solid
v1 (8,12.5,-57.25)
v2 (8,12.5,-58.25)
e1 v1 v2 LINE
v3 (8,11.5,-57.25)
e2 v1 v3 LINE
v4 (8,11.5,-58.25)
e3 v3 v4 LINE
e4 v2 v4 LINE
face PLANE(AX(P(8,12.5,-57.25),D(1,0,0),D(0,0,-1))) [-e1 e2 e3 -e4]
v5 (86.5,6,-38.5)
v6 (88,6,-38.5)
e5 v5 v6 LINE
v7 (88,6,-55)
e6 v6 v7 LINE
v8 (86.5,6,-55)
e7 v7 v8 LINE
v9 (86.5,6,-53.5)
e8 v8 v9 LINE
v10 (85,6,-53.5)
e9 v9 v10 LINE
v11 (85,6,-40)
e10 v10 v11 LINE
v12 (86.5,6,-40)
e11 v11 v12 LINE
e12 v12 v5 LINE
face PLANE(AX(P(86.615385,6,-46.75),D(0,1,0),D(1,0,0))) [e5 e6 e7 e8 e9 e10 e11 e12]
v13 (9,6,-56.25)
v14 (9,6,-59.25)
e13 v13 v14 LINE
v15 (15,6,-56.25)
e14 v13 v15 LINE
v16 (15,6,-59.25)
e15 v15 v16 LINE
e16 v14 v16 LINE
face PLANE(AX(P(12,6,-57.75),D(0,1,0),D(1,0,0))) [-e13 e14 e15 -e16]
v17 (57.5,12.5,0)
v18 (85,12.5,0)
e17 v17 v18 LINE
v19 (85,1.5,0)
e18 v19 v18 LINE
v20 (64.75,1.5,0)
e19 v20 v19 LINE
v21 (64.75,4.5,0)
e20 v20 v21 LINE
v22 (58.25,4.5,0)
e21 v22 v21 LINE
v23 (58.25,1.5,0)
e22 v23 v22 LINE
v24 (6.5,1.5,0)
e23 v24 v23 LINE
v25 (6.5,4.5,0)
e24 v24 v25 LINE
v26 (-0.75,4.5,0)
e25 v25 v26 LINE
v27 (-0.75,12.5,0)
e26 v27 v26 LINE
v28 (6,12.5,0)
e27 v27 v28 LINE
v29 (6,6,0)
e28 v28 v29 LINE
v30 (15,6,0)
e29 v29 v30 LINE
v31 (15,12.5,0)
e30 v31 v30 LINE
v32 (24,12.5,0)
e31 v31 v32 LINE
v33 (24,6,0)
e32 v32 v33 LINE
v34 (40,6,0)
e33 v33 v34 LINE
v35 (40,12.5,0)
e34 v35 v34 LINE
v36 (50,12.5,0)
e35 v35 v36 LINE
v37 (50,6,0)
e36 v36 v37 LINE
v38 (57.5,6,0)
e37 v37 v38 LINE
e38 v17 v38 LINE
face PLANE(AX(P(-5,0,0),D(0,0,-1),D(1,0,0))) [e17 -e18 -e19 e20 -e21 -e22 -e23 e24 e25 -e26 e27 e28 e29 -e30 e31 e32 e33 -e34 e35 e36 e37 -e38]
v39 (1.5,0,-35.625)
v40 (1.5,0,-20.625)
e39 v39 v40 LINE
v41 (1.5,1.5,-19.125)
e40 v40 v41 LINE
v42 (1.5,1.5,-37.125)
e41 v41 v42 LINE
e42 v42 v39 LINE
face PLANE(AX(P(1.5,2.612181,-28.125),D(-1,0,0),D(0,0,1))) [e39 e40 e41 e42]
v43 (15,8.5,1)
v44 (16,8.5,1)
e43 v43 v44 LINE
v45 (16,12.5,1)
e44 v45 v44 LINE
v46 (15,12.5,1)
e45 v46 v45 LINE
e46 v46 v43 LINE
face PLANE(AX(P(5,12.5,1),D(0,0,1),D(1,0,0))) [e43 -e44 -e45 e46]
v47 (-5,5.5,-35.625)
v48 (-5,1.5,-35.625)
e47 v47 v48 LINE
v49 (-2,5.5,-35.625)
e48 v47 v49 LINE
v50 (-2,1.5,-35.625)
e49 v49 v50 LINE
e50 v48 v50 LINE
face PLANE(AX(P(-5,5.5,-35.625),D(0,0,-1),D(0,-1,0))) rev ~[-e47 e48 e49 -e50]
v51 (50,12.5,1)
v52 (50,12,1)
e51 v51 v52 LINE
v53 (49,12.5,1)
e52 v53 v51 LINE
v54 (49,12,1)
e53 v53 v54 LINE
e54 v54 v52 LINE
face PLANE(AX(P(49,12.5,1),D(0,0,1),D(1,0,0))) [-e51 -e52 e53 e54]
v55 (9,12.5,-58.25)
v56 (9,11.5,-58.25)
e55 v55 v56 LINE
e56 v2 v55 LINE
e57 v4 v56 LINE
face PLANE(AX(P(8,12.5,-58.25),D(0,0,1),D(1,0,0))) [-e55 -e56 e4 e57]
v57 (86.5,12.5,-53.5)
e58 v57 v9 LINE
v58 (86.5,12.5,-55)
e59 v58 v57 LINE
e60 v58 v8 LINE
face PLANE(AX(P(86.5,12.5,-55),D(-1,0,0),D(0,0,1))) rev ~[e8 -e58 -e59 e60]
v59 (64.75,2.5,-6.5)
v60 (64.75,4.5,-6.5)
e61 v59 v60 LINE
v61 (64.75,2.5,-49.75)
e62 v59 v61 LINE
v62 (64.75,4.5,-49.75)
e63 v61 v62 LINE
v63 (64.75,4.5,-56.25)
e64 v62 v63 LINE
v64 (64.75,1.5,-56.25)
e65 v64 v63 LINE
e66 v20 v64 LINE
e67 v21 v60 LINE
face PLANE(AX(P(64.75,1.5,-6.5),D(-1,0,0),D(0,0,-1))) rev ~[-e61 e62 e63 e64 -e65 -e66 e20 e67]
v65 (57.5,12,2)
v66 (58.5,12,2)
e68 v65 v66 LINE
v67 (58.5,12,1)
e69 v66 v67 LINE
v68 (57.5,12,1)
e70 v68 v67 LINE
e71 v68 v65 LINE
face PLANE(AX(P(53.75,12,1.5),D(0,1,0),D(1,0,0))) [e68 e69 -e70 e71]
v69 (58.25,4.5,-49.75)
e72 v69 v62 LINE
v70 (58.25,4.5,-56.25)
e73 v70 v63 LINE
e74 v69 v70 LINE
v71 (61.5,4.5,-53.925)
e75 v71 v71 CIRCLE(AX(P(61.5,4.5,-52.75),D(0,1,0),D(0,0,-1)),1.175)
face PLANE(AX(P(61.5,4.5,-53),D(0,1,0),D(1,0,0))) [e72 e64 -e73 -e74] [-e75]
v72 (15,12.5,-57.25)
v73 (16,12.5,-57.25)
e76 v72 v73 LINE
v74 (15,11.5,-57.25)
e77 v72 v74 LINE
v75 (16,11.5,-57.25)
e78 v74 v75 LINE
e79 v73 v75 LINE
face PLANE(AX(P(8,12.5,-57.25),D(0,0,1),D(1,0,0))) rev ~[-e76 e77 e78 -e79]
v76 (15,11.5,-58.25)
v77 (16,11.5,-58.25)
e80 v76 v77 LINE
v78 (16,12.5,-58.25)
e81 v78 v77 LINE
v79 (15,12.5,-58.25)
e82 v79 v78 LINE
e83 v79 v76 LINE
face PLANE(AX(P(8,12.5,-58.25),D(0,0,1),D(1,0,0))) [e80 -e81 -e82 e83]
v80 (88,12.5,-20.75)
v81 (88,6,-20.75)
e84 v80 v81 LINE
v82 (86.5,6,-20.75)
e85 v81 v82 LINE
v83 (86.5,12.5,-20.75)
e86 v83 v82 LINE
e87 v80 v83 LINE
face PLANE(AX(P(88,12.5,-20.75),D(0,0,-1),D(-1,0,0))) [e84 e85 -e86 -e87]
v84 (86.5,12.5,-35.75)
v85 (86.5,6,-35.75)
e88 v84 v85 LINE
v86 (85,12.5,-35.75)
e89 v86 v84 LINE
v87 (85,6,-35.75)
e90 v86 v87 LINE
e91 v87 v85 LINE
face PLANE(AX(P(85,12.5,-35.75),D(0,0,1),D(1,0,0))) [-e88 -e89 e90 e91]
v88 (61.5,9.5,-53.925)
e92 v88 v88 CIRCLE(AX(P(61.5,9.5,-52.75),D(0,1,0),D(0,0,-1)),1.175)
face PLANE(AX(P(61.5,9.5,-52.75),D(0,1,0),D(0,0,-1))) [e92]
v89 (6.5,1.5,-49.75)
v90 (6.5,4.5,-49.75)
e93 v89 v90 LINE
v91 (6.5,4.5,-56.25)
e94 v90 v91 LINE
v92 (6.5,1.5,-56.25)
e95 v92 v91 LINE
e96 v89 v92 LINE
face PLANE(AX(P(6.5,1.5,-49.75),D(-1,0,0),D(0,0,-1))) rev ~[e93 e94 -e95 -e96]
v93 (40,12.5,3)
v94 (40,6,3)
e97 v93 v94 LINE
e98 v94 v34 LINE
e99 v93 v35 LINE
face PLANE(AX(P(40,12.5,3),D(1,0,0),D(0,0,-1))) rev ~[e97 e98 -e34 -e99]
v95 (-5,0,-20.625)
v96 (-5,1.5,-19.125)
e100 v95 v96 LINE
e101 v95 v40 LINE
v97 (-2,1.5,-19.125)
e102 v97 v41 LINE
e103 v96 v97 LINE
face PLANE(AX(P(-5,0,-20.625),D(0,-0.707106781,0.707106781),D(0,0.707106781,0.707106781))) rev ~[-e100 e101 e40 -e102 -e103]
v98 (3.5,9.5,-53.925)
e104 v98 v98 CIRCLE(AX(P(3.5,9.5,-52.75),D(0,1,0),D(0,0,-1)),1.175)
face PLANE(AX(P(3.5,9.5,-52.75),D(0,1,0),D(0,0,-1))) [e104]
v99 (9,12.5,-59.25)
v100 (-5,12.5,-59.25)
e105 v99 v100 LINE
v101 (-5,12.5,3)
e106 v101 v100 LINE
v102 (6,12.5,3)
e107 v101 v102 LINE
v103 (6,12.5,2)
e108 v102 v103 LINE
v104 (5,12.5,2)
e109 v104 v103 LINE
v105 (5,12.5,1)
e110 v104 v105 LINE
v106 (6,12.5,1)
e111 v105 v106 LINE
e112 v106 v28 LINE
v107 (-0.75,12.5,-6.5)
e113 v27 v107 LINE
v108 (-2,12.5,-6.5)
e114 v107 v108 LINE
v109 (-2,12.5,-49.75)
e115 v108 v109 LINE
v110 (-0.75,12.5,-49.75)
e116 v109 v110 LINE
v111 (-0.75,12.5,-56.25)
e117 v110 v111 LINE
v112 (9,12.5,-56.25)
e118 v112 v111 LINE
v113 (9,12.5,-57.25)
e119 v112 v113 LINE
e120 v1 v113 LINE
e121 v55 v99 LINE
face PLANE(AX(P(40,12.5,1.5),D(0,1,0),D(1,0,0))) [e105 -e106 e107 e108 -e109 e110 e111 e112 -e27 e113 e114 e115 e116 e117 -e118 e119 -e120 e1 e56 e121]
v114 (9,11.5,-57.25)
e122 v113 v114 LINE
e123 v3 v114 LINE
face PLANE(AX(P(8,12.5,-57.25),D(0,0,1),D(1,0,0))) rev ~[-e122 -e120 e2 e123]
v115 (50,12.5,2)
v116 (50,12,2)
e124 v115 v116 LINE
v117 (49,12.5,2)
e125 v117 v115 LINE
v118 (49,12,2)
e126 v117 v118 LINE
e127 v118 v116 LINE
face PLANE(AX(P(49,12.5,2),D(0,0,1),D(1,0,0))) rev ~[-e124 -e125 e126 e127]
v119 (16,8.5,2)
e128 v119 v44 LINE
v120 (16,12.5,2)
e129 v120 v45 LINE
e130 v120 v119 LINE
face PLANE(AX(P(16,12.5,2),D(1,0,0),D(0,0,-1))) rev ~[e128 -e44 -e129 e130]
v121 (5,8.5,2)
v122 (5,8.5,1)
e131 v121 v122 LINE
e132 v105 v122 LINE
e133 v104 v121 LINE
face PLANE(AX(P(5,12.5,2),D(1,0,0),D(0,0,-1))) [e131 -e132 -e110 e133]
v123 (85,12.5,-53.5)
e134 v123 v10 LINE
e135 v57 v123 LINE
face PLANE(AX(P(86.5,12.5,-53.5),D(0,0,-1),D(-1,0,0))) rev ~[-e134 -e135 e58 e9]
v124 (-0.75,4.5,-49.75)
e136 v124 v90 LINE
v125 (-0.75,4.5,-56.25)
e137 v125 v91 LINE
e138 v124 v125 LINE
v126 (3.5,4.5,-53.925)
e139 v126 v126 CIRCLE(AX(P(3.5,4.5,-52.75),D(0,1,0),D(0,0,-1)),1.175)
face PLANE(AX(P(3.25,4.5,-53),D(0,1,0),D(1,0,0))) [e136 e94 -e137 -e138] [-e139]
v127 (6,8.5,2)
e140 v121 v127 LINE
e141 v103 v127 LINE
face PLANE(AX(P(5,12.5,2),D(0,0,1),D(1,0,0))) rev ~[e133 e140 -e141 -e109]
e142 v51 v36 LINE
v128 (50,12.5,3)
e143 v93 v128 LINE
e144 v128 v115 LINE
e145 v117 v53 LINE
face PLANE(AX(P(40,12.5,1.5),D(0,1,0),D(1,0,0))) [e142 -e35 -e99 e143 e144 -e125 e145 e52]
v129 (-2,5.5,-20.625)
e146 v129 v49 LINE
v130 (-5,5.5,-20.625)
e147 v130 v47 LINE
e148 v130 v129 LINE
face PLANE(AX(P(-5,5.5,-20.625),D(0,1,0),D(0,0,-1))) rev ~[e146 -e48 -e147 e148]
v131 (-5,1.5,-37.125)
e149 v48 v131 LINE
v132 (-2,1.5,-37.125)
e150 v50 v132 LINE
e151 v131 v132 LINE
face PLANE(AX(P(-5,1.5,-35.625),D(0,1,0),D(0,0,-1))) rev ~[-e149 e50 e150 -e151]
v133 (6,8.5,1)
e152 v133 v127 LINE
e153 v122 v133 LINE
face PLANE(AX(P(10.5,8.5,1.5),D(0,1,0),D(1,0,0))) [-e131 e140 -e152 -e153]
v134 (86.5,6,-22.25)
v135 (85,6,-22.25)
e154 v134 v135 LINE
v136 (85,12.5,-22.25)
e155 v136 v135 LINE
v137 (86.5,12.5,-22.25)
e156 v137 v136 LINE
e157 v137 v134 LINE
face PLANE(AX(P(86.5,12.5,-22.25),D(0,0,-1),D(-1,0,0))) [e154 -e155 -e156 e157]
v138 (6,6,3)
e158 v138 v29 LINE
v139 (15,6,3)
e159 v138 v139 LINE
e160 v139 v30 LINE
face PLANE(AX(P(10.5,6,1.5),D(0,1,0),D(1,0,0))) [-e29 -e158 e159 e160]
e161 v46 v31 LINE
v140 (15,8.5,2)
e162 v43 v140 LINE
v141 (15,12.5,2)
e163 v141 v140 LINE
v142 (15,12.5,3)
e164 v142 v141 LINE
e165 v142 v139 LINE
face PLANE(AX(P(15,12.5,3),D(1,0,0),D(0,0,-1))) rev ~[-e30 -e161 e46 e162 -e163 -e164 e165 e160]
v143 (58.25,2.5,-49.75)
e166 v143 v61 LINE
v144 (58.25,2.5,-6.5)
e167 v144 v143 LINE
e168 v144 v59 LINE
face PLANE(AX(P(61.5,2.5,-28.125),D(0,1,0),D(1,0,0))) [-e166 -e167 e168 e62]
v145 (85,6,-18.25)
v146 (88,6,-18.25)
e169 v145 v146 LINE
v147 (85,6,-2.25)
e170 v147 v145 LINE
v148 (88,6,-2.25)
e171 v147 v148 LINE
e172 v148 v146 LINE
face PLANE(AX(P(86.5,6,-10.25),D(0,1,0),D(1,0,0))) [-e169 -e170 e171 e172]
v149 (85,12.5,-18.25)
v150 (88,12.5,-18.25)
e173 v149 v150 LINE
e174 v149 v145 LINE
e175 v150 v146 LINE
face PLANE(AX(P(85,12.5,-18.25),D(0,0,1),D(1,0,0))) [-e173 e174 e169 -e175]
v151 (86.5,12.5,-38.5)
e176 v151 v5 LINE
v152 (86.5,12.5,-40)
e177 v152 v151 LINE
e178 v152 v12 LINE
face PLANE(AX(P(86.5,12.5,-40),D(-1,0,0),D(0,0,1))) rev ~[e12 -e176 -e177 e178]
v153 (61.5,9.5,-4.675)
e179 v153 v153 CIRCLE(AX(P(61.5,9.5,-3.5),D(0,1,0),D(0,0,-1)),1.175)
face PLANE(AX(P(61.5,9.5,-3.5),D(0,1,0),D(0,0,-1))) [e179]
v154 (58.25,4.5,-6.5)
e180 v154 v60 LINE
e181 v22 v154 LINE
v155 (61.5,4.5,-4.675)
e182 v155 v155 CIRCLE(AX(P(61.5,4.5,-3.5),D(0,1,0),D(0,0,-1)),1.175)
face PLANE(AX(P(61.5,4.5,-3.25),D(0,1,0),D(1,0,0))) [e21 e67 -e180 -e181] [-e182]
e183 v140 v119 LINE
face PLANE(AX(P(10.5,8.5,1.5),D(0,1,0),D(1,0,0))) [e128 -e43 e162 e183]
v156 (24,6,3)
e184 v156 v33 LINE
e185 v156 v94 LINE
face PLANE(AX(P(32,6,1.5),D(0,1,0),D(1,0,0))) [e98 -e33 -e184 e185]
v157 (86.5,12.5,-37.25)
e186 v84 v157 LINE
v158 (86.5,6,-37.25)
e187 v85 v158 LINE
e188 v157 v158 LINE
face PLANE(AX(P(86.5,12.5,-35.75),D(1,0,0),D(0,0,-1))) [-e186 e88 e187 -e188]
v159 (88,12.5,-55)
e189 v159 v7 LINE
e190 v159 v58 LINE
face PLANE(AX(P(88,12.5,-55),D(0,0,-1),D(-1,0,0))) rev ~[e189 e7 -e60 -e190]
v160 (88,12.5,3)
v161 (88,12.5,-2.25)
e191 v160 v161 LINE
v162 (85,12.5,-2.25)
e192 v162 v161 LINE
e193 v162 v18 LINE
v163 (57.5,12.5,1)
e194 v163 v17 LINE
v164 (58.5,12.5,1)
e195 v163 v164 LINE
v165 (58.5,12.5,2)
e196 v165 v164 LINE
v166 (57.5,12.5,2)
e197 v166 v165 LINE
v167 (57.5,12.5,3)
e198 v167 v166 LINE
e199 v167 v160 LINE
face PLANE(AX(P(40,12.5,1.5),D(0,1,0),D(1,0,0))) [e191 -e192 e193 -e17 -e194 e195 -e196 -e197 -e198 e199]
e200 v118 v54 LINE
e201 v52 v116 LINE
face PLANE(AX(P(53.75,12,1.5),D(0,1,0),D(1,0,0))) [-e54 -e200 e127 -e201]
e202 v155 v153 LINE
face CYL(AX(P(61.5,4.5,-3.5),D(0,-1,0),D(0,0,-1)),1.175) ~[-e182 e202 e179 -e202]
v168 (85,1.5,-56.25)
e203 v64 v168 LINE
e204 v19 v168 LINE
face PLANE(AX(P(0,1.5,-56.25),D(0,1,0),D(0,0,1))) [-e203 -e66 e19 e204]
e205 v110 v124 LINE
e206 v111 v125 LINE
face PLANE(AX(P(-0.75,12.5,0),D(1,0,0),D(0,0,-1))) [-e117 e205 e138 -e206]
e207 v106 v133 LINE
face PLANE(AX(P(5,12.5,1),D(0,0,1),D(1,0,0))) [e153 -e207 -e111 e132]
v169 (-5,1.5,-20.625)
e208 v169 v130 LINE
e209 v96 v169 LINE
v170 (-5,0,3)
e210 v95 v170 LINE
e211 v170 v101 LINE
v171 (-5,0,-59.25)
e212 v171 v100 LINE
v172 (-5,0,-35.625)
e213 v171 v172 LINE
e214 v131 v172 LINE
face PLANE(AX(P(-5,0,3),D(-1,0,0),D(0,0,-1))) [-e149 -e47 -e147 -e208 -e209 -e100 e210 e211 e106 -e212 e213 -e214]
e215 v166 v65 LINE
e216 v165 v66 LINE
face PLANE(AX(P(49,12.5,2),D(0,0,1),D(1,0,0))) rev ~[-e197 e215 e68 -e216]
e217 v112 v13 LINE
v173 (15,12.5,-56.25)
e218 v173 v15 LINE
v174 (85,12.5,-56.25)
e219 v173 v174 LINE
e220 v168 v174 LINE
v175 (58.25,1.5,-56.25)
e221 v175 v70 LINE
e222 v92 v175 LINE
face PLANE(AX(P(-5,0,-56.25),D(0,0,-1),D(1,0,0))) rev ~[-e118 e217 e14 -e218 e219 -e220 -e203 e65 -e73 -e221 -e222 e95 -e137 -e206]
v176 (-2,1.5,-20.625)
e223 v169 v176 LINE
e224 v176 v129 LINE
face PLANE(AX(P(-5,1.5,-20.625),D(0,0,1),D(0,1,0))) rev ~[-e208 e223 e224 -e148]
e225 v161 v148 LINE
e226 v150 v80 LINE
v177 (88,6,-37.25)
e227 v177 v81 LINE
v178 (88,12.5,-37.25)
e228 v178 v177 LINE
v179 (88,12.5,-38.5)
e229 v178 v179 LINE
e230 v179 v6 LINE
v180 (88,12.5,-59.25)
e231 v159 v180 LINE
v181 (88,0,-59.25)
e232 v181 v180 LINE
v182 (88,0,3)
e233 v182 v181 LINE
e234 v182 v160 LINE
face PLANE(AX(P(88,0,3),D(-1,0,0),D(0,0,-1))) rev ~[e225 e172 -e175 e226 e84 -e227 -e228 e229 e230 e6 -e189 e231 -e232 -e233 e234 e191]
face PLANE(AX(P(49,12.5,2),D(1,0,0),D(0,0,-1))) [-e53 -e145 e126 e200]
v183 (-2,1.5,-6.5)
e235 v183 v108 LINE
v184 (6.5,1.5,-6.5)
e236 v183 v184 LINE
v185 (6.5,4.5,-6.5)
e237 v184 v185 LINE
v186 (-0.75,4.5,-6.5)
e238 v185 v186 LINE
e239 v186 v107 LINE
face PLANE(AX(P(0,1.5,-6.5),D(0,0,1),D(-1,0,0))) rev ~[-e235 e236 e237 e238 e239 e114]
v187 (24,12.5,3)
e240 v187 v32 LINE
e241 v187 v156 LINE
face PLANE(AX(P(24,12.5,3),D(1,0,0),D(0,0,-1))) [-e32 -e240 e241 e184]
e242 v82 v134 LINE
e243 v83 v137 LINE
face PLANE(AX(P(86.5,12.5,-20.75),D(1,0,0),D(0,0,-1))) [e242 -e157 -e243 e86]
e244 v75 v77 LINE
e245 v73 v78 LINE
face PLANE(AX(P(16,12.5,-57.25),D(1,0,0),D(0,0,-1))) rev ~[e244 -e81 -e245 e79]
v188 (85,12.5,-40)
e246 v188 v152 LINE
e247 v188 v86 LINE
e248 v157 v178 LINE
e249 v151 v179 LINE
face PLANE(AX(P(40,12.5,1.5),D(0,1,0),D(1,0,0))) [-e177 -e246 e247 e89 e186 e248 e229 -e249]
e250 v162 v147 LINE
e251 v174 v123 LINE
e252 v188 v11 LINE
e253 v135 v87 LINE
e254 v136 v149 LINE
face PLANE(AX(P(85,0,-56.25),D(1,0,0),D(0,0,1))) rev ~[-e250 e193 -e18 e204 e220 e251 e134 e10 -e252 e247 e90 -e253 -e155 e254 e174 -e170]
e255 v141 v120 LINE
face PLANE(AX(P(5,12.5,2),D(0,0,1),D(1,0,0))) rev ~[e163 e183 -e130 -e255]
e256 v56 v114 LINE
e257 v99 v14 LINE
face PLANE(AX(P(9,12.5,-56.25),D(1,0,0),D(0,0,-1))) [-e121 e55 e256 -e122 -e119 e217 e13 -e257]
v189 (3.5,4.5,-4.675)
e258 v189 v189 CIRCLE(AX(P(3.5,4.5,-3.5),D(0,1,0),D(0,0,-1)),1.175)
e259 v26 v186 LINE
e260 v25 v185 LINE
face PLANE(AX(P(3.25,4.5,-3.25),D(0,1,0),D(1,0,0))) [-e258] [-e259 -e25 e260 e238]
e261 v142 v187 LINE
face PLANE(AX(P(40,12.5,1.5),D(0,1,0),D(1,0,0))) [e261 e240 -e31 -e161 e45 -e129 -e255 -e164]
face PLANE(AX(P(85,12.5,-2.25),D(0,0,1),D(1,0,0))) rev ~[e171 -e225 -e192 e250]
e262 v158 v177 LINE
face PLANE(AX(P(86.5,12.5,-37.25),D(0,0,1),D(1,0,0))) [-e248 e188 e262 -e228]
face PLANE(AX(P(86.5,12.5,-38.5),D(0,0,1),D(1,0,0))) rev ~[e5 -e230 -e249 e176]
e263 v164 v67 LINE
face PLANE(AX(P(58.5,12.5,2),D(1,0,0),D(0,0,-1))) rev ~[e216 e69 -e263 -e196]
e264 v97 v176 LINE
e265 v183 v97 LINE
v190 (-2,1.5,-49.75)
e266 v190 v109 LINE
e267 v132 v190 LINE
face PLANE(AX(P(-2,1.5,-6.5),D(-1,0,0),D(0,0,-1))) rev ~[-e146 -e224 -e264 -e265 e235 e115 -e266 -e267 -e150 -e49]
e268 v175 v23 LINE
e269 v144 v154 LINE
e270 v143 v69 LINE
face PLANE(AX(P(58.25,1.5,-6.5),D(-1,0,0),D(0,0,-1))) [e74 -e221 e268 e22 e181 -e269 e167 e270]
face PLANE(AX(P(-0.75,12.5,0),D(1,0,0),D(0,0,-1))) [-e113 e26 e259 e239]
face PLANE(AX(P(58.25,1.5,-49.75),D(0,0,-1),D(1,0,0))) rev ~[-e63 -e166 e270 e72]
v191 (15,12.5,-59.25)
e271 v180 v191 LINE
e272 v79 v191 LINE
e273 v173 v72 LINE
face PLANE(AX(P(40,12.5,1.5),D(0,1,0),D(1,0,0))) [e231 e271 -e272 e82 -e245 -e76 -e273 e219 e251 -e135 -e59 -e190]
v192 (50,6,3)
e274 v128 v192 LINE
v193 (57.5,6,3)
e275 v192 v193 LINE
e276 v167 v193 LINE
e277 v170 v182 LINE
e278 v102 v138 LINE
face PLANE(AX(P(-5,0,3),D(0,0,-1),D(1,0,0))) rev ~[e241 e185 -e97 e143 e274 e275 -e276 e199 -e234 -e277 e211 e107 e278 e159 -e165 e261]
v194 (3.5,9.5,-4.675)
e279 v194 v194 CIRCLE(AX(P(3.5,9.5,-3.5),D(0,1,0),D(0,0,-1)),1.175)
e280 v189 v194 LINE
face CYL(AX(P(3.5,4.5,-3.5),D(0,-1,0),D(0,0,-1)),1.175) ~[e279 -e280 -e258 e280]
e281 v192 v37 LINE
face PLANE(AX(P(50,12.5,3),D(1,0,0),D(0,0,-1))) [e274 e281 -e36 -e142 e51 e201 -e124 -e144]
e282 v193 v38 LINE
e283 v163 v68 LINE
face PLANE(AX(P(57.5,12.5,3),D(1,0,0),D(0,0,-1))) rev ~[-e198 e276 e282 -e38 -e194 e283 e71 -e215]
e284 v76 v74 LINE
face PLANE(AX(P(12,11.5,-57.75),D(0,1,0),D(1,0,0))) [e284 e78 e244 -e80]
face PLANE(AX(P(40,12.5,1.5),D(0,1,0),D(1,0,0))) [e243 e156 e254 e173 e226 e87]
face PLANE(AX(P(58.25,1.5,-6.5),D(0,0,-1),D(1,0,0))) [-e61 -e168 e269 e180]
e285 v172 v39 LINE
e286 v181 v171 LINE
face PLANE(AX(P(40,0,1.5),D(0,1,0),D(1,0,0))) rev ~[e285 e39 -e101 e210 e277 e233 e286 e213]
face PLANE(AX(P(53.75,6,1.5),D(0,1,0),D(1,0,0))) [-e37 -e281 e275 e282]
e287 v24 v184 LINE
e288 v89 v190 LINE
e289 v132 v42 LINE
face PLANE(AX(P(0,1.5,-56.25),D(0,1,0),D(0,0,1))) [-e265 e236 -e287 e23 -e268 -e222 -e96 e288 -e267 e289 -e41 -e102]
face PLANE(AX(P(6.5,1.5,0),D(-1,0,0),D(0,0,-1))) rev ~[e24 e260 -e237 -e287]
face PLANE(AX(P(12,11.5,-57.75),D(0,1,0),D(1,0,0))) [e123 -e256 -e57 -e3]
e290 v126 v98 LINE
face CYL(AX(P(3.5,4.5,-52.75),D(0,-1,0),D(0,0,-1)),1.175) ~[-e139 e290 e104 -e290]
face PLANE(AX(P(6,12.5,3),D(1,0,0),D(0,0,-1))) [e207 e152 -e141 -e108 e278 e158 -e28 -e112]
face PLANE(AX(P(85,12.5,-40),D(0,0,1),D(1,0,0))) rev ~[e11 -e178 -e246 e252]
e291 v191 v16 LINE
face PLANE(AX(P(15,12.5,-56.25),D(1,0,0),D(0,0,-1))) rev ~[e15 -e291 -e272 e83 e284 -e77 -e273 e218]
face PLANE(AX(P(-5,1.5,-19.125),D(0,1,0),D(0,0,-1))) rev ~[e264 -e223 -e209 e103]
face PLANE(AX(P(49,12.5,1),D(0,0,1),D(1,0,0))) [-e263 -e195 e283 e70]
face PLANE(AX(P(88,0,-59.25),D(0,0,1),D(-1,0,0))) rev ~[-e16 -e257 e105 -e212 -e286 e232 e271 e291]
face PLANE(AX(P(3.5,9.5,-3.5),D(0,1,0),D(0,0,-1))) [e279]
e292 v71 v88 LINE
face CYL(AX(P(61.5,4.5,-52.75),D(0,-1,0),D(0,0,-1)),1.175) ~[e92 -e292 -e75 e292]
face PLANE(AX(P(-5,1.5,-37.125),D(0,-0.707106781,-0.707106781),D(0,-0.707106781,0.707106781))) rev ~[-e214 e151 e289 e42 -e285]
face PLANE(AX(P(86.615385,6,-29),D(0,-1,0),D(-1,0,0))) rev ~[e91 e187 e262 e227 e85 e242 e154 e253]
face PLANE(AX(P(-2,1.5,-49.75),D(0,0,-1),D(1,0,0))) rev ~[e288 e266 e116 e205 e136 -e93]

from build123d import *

# Parameters (mm, degrees)
SKETCH1_W           = 85
SKETCH1_H           = 56.25
BOSS_EXTRUDE1_DEPTH = 1.5
SKETCH2_W           = 6.5
SKETCH2_H           = 6.5
BOSS_EXTRUDE2_DEPTH = 3
SKETCH3_R           = 1.175
BOSS_EXTRUDE3_DEPTH = 5
SKETCH4_W           = 56.25
SKETCH4_H           = 1.5
BOSS_EXTRUDE4_DEPTH = 5
BOSS_EXTRUDE5_DEPTH = 11
SKETCH6_W           = 90
SKETCH6_H           = 3
BOSS_EXTRUDE6_DEPTH = 12.5
SKETCH7_W           = 6
SKETCH7_H           = 3
SKETCH7_W_2         = 9
SKETCH7_W_3         = 16
SKETCH7_W_4         = 7.5
SKETCH7_W_5         = 3
SKETCH7_H_2         = 16
CUT_EXTRUDE1_DEPTH  = 6.5
CUT_EXTRUDE2_DEPTH  = 6.5
SKETCH9_W           = 6.5
SKETCH9_H           = 43.25
BOSS_EXTRUDE7_DEPTH = 1
SKETCH10_W          = 9.5
SKETCH10_H          = 1
CUT_EXTRUDE3_DEPTH  = 0.5
SKETCH11_W          = 11
SKETCH11_H          = 1
CUT_EXTRUDE4_DEPTH  = 4
SKETCH12_W          = 8
SKETCH12_H          = 1
CUT_EXTRUDE5_DEPTH  = 1
SKETCH13_W          = 0.75
SKETCH13_H          = 56.25
CUT_EXTRUDE6_DEPTH  = 8


with BuildPart() as part:
    # Sketch1 → Boss-Extrude1 (new body)
    with BuildSketch(Plane(origin=(0, 0, 0), x_dir=(1, 0, 0), z_dir=(0, 1, 0))):
        with Locations((42.5, 28.125)):
            Rectangle(SKETCH1_W, SKETCH1_H)
    extrude(amount=BOSS_EXTRUDE1_DEPTH)

    # Sketch2 → Boss-Extrude2 (add)
    with BuildSketch(Plane(origin=(0, 1.5, 0), x_dir=(1, 0, 0), z_dir=(0, 1, 0))):
        with Locations((3.25, 3.25)):
            Rectangle(SKETCH2_W, SKETCH2_H)
        with Locations((61.5, 3.25)):
            Rectangle(SKETCH2_W, SKETCH2_H)
        with Locations((61.5, 53)):
            Rectangle(SKETCH2_W, SKETCH2_H)
        with Locations((3.25, 53)):
            Rectangle(SKETCH2_W, SKETCH2_H)
    extrude(amount=BOSS_EXTRUDE2_DEPTH)

    # Sketch3 → Boss-Extrude3 (add)
    with BuildSketch(Plane(origin=(0, 4.5, 0), x_dir=(1, 0, 0), z_dir=(0, 1, 0))):
        with Locations(Location((3.5, 3.5, 0), (0, 0, 90))):
            Circle(SKETCH3_R)
        with Locations(Location((61.5, 3.5, 0), (0, 0, 90))):
            Circle(SKETCH3_R)
        with Locations(Location((61.5, 52.75, 0), (0, 0, 90))):
            Circle(SKETCH3_R)
        with Locations(Location((3.5, 52.75, 0), (0, 0, 90))):
            Circle(SKETCH3_R)
    extrude(amount=BOSS_EXTRUDE3_DEPTH)

    # Sketch4 → Boss-Extrude4 (add)
    with BuildSketch(Plane.ZY):
        with Locations((-28.125, 0.75)):
            Rectangle(SKETCH4_W, SKETCH4_H)
    extrude(amount=BOSS_EXTRUDE4_DEPTH)

    # Sketch5 → Boss-Extrude5 (add)
    with BuildSketch(Plane(origin=(0, 1.5, 0), x_dir=(1, 0, 0), z_dir=(0, 1, 0))):
        Polygon((-5, 0), (-2.5, 0), (0, 0), (0, 6.5), (-2, 6.5), (-2, 49.75), (0, 49.75), (0, 56.25), (-2.5, 56.25), (-5, 56.25), align=None)
    extrude(amount=BOSS_EXTRUDE5_DEPTH)

    # Sketch6 → Boss-Extrude6 (add)
    with BuildSketch(Plane(origin=(0, 0, 0), x_dir=(1, 0, 0), z_dir=(0, 1, 0))):
        with Locations((40, -1.5)):
            Rectangle(SKETCH6_W, SKETCH6_H)
        Polygon((85, 56.25), (85, 0), (85, -3), (88, -3), (88, 56.25), align=None)
        Polygon((-5, 56.25), (85, 56.25), (88, 56.25), (88, 59.25), (-5, 59.25), align=None)
    extrude(amount=BOSS_EXTRUDE6_DEPTH)

    # Sketch7 → Cut-Extrude1 (cut)
    with BuildSketch(Plane(origin=(0, 12.5, 0), x_dir=(1, 0, 0), z_dir=(0, 1, 0))):
        with Locations((12, 57.75)):
            Rectangle(SKETCH7_W, SKETCH7_H)
        Polygon((86.5, 40), (86.5, 38.5), (88, 38.5), (88, 55), (86.5, 55), (86.5, 53.5), (85, 53.5), (85, 40), align=None)
        with Locations((10.5, -1.5)):
            Rectangle(SKETCH7_W_2, SKETCH7_H)
        with Locations((32, -1.5)):
            Rectangle(SKETCH7_W_3, SKETCH7_H)
        with Locations((53.75, -1.5)):
            Rectangle(SKETCH7_W_4, SKETCH7_H)
        with Locations((86.5, 10.25)):
            Rectangle(SKETCH7_W_5, SKETCH7_H_2)
        Polygon((86.5, 35.75), (86.5, 37.25), (88, 37.25), (88, 20.75), (86.5, 20.75), (86.5, 22.25), (85, 22.25), (85, 35.75), align=None)
    extrude(amount=-CUT_EXTRUDE1_DEPTH, mode=Mode.SUBTRACT)

    # Sketch8 → Cut-Extrude2 (cut)
    with BuildSketch(Plane.ZY.offset(5)):
        Polygon((-35.625, 0), (-20.625, 0), (-19.125, 1.5), (-20.625, 1.5), (-20.625, 5.5), (-35.625, 5.5), (-35.625, 1.5), (-37.125, 1.5), align=None)
    extrude(amount=-CUT_EXTRUDE2_DEPTH, mode=Mode.SUBTRACT)

    # Sketch9 → Boss-Extrude7 (add)
    with BuildSketch(Plane(origin=(0, 1.5, 0), x_dir=(1, 0, 0), z_dir=(0, 1, 0))):
        with Locations((61.5, 28.125)):
            Rectangle(SKETCH9_W, SKETCH9_H)
    extrude(amount=BOSS_EXTRUDE7_DEPTH)

    # Sketch10 → Cut-Extrude3 (cut)
    with BuildSketch(Plane(origin=(0, 12.5, 0), x_dir=(1, 0, 0), z_dir=(0, 1, 0))):
        with Locations((53.75, -1.5)):
            Rectangle(SKETCH10_W, SKETCH10_H)
    extrude(amount=-CUT_EXTRUDE3_DEPTH, mode=Mode.SUBTRACT)

    # Sketch11 → Cut-Extrude4 (cut)
    with BuildSketch(Plane(origin=(0, 12.5, 0), x_dir=(1, 0, 0), z_dir=(0, 1, 0))):
        with Locations((10.5, -1.5)):
            Rectangle(SKETCH11_W, SKETCH11_H)
    extrude(amount=-CUT_EXTRUDE4_DEPTH, mode=Mode.SUBTRACT)

    # Sketch12 → Cut-Extrude5 (cut)
    with BuildSketch(Plane(origin=(0, 12.5, 0), x_dir=(1, 0, 0), z_dir=(0, 1, 0))):
        with Locations((12, 57.75)):
            Rectangle(SKETCH12_W, SKETCH12_H)
    extrude(amount=-CUT_EXTRUDE5_DEPTH, mode=Mode.SUBTRACT)

    # Sketch13 → Cut-Extrude6 (cut)
    with BuildSketch(Plane(origin=(0, 12.5, 0), x_dir=(1, 0, 0), z_dir=(0, 1, 0))):
        with Locations((-0.375, 28.125)):
            Rectangle(SKETCH13_W, SKETCH13_H)
    extrude(amount=-CUT_EXTRUDE6_DEPTH, mode=Mode.SUBTRACT)


solid = part.part
